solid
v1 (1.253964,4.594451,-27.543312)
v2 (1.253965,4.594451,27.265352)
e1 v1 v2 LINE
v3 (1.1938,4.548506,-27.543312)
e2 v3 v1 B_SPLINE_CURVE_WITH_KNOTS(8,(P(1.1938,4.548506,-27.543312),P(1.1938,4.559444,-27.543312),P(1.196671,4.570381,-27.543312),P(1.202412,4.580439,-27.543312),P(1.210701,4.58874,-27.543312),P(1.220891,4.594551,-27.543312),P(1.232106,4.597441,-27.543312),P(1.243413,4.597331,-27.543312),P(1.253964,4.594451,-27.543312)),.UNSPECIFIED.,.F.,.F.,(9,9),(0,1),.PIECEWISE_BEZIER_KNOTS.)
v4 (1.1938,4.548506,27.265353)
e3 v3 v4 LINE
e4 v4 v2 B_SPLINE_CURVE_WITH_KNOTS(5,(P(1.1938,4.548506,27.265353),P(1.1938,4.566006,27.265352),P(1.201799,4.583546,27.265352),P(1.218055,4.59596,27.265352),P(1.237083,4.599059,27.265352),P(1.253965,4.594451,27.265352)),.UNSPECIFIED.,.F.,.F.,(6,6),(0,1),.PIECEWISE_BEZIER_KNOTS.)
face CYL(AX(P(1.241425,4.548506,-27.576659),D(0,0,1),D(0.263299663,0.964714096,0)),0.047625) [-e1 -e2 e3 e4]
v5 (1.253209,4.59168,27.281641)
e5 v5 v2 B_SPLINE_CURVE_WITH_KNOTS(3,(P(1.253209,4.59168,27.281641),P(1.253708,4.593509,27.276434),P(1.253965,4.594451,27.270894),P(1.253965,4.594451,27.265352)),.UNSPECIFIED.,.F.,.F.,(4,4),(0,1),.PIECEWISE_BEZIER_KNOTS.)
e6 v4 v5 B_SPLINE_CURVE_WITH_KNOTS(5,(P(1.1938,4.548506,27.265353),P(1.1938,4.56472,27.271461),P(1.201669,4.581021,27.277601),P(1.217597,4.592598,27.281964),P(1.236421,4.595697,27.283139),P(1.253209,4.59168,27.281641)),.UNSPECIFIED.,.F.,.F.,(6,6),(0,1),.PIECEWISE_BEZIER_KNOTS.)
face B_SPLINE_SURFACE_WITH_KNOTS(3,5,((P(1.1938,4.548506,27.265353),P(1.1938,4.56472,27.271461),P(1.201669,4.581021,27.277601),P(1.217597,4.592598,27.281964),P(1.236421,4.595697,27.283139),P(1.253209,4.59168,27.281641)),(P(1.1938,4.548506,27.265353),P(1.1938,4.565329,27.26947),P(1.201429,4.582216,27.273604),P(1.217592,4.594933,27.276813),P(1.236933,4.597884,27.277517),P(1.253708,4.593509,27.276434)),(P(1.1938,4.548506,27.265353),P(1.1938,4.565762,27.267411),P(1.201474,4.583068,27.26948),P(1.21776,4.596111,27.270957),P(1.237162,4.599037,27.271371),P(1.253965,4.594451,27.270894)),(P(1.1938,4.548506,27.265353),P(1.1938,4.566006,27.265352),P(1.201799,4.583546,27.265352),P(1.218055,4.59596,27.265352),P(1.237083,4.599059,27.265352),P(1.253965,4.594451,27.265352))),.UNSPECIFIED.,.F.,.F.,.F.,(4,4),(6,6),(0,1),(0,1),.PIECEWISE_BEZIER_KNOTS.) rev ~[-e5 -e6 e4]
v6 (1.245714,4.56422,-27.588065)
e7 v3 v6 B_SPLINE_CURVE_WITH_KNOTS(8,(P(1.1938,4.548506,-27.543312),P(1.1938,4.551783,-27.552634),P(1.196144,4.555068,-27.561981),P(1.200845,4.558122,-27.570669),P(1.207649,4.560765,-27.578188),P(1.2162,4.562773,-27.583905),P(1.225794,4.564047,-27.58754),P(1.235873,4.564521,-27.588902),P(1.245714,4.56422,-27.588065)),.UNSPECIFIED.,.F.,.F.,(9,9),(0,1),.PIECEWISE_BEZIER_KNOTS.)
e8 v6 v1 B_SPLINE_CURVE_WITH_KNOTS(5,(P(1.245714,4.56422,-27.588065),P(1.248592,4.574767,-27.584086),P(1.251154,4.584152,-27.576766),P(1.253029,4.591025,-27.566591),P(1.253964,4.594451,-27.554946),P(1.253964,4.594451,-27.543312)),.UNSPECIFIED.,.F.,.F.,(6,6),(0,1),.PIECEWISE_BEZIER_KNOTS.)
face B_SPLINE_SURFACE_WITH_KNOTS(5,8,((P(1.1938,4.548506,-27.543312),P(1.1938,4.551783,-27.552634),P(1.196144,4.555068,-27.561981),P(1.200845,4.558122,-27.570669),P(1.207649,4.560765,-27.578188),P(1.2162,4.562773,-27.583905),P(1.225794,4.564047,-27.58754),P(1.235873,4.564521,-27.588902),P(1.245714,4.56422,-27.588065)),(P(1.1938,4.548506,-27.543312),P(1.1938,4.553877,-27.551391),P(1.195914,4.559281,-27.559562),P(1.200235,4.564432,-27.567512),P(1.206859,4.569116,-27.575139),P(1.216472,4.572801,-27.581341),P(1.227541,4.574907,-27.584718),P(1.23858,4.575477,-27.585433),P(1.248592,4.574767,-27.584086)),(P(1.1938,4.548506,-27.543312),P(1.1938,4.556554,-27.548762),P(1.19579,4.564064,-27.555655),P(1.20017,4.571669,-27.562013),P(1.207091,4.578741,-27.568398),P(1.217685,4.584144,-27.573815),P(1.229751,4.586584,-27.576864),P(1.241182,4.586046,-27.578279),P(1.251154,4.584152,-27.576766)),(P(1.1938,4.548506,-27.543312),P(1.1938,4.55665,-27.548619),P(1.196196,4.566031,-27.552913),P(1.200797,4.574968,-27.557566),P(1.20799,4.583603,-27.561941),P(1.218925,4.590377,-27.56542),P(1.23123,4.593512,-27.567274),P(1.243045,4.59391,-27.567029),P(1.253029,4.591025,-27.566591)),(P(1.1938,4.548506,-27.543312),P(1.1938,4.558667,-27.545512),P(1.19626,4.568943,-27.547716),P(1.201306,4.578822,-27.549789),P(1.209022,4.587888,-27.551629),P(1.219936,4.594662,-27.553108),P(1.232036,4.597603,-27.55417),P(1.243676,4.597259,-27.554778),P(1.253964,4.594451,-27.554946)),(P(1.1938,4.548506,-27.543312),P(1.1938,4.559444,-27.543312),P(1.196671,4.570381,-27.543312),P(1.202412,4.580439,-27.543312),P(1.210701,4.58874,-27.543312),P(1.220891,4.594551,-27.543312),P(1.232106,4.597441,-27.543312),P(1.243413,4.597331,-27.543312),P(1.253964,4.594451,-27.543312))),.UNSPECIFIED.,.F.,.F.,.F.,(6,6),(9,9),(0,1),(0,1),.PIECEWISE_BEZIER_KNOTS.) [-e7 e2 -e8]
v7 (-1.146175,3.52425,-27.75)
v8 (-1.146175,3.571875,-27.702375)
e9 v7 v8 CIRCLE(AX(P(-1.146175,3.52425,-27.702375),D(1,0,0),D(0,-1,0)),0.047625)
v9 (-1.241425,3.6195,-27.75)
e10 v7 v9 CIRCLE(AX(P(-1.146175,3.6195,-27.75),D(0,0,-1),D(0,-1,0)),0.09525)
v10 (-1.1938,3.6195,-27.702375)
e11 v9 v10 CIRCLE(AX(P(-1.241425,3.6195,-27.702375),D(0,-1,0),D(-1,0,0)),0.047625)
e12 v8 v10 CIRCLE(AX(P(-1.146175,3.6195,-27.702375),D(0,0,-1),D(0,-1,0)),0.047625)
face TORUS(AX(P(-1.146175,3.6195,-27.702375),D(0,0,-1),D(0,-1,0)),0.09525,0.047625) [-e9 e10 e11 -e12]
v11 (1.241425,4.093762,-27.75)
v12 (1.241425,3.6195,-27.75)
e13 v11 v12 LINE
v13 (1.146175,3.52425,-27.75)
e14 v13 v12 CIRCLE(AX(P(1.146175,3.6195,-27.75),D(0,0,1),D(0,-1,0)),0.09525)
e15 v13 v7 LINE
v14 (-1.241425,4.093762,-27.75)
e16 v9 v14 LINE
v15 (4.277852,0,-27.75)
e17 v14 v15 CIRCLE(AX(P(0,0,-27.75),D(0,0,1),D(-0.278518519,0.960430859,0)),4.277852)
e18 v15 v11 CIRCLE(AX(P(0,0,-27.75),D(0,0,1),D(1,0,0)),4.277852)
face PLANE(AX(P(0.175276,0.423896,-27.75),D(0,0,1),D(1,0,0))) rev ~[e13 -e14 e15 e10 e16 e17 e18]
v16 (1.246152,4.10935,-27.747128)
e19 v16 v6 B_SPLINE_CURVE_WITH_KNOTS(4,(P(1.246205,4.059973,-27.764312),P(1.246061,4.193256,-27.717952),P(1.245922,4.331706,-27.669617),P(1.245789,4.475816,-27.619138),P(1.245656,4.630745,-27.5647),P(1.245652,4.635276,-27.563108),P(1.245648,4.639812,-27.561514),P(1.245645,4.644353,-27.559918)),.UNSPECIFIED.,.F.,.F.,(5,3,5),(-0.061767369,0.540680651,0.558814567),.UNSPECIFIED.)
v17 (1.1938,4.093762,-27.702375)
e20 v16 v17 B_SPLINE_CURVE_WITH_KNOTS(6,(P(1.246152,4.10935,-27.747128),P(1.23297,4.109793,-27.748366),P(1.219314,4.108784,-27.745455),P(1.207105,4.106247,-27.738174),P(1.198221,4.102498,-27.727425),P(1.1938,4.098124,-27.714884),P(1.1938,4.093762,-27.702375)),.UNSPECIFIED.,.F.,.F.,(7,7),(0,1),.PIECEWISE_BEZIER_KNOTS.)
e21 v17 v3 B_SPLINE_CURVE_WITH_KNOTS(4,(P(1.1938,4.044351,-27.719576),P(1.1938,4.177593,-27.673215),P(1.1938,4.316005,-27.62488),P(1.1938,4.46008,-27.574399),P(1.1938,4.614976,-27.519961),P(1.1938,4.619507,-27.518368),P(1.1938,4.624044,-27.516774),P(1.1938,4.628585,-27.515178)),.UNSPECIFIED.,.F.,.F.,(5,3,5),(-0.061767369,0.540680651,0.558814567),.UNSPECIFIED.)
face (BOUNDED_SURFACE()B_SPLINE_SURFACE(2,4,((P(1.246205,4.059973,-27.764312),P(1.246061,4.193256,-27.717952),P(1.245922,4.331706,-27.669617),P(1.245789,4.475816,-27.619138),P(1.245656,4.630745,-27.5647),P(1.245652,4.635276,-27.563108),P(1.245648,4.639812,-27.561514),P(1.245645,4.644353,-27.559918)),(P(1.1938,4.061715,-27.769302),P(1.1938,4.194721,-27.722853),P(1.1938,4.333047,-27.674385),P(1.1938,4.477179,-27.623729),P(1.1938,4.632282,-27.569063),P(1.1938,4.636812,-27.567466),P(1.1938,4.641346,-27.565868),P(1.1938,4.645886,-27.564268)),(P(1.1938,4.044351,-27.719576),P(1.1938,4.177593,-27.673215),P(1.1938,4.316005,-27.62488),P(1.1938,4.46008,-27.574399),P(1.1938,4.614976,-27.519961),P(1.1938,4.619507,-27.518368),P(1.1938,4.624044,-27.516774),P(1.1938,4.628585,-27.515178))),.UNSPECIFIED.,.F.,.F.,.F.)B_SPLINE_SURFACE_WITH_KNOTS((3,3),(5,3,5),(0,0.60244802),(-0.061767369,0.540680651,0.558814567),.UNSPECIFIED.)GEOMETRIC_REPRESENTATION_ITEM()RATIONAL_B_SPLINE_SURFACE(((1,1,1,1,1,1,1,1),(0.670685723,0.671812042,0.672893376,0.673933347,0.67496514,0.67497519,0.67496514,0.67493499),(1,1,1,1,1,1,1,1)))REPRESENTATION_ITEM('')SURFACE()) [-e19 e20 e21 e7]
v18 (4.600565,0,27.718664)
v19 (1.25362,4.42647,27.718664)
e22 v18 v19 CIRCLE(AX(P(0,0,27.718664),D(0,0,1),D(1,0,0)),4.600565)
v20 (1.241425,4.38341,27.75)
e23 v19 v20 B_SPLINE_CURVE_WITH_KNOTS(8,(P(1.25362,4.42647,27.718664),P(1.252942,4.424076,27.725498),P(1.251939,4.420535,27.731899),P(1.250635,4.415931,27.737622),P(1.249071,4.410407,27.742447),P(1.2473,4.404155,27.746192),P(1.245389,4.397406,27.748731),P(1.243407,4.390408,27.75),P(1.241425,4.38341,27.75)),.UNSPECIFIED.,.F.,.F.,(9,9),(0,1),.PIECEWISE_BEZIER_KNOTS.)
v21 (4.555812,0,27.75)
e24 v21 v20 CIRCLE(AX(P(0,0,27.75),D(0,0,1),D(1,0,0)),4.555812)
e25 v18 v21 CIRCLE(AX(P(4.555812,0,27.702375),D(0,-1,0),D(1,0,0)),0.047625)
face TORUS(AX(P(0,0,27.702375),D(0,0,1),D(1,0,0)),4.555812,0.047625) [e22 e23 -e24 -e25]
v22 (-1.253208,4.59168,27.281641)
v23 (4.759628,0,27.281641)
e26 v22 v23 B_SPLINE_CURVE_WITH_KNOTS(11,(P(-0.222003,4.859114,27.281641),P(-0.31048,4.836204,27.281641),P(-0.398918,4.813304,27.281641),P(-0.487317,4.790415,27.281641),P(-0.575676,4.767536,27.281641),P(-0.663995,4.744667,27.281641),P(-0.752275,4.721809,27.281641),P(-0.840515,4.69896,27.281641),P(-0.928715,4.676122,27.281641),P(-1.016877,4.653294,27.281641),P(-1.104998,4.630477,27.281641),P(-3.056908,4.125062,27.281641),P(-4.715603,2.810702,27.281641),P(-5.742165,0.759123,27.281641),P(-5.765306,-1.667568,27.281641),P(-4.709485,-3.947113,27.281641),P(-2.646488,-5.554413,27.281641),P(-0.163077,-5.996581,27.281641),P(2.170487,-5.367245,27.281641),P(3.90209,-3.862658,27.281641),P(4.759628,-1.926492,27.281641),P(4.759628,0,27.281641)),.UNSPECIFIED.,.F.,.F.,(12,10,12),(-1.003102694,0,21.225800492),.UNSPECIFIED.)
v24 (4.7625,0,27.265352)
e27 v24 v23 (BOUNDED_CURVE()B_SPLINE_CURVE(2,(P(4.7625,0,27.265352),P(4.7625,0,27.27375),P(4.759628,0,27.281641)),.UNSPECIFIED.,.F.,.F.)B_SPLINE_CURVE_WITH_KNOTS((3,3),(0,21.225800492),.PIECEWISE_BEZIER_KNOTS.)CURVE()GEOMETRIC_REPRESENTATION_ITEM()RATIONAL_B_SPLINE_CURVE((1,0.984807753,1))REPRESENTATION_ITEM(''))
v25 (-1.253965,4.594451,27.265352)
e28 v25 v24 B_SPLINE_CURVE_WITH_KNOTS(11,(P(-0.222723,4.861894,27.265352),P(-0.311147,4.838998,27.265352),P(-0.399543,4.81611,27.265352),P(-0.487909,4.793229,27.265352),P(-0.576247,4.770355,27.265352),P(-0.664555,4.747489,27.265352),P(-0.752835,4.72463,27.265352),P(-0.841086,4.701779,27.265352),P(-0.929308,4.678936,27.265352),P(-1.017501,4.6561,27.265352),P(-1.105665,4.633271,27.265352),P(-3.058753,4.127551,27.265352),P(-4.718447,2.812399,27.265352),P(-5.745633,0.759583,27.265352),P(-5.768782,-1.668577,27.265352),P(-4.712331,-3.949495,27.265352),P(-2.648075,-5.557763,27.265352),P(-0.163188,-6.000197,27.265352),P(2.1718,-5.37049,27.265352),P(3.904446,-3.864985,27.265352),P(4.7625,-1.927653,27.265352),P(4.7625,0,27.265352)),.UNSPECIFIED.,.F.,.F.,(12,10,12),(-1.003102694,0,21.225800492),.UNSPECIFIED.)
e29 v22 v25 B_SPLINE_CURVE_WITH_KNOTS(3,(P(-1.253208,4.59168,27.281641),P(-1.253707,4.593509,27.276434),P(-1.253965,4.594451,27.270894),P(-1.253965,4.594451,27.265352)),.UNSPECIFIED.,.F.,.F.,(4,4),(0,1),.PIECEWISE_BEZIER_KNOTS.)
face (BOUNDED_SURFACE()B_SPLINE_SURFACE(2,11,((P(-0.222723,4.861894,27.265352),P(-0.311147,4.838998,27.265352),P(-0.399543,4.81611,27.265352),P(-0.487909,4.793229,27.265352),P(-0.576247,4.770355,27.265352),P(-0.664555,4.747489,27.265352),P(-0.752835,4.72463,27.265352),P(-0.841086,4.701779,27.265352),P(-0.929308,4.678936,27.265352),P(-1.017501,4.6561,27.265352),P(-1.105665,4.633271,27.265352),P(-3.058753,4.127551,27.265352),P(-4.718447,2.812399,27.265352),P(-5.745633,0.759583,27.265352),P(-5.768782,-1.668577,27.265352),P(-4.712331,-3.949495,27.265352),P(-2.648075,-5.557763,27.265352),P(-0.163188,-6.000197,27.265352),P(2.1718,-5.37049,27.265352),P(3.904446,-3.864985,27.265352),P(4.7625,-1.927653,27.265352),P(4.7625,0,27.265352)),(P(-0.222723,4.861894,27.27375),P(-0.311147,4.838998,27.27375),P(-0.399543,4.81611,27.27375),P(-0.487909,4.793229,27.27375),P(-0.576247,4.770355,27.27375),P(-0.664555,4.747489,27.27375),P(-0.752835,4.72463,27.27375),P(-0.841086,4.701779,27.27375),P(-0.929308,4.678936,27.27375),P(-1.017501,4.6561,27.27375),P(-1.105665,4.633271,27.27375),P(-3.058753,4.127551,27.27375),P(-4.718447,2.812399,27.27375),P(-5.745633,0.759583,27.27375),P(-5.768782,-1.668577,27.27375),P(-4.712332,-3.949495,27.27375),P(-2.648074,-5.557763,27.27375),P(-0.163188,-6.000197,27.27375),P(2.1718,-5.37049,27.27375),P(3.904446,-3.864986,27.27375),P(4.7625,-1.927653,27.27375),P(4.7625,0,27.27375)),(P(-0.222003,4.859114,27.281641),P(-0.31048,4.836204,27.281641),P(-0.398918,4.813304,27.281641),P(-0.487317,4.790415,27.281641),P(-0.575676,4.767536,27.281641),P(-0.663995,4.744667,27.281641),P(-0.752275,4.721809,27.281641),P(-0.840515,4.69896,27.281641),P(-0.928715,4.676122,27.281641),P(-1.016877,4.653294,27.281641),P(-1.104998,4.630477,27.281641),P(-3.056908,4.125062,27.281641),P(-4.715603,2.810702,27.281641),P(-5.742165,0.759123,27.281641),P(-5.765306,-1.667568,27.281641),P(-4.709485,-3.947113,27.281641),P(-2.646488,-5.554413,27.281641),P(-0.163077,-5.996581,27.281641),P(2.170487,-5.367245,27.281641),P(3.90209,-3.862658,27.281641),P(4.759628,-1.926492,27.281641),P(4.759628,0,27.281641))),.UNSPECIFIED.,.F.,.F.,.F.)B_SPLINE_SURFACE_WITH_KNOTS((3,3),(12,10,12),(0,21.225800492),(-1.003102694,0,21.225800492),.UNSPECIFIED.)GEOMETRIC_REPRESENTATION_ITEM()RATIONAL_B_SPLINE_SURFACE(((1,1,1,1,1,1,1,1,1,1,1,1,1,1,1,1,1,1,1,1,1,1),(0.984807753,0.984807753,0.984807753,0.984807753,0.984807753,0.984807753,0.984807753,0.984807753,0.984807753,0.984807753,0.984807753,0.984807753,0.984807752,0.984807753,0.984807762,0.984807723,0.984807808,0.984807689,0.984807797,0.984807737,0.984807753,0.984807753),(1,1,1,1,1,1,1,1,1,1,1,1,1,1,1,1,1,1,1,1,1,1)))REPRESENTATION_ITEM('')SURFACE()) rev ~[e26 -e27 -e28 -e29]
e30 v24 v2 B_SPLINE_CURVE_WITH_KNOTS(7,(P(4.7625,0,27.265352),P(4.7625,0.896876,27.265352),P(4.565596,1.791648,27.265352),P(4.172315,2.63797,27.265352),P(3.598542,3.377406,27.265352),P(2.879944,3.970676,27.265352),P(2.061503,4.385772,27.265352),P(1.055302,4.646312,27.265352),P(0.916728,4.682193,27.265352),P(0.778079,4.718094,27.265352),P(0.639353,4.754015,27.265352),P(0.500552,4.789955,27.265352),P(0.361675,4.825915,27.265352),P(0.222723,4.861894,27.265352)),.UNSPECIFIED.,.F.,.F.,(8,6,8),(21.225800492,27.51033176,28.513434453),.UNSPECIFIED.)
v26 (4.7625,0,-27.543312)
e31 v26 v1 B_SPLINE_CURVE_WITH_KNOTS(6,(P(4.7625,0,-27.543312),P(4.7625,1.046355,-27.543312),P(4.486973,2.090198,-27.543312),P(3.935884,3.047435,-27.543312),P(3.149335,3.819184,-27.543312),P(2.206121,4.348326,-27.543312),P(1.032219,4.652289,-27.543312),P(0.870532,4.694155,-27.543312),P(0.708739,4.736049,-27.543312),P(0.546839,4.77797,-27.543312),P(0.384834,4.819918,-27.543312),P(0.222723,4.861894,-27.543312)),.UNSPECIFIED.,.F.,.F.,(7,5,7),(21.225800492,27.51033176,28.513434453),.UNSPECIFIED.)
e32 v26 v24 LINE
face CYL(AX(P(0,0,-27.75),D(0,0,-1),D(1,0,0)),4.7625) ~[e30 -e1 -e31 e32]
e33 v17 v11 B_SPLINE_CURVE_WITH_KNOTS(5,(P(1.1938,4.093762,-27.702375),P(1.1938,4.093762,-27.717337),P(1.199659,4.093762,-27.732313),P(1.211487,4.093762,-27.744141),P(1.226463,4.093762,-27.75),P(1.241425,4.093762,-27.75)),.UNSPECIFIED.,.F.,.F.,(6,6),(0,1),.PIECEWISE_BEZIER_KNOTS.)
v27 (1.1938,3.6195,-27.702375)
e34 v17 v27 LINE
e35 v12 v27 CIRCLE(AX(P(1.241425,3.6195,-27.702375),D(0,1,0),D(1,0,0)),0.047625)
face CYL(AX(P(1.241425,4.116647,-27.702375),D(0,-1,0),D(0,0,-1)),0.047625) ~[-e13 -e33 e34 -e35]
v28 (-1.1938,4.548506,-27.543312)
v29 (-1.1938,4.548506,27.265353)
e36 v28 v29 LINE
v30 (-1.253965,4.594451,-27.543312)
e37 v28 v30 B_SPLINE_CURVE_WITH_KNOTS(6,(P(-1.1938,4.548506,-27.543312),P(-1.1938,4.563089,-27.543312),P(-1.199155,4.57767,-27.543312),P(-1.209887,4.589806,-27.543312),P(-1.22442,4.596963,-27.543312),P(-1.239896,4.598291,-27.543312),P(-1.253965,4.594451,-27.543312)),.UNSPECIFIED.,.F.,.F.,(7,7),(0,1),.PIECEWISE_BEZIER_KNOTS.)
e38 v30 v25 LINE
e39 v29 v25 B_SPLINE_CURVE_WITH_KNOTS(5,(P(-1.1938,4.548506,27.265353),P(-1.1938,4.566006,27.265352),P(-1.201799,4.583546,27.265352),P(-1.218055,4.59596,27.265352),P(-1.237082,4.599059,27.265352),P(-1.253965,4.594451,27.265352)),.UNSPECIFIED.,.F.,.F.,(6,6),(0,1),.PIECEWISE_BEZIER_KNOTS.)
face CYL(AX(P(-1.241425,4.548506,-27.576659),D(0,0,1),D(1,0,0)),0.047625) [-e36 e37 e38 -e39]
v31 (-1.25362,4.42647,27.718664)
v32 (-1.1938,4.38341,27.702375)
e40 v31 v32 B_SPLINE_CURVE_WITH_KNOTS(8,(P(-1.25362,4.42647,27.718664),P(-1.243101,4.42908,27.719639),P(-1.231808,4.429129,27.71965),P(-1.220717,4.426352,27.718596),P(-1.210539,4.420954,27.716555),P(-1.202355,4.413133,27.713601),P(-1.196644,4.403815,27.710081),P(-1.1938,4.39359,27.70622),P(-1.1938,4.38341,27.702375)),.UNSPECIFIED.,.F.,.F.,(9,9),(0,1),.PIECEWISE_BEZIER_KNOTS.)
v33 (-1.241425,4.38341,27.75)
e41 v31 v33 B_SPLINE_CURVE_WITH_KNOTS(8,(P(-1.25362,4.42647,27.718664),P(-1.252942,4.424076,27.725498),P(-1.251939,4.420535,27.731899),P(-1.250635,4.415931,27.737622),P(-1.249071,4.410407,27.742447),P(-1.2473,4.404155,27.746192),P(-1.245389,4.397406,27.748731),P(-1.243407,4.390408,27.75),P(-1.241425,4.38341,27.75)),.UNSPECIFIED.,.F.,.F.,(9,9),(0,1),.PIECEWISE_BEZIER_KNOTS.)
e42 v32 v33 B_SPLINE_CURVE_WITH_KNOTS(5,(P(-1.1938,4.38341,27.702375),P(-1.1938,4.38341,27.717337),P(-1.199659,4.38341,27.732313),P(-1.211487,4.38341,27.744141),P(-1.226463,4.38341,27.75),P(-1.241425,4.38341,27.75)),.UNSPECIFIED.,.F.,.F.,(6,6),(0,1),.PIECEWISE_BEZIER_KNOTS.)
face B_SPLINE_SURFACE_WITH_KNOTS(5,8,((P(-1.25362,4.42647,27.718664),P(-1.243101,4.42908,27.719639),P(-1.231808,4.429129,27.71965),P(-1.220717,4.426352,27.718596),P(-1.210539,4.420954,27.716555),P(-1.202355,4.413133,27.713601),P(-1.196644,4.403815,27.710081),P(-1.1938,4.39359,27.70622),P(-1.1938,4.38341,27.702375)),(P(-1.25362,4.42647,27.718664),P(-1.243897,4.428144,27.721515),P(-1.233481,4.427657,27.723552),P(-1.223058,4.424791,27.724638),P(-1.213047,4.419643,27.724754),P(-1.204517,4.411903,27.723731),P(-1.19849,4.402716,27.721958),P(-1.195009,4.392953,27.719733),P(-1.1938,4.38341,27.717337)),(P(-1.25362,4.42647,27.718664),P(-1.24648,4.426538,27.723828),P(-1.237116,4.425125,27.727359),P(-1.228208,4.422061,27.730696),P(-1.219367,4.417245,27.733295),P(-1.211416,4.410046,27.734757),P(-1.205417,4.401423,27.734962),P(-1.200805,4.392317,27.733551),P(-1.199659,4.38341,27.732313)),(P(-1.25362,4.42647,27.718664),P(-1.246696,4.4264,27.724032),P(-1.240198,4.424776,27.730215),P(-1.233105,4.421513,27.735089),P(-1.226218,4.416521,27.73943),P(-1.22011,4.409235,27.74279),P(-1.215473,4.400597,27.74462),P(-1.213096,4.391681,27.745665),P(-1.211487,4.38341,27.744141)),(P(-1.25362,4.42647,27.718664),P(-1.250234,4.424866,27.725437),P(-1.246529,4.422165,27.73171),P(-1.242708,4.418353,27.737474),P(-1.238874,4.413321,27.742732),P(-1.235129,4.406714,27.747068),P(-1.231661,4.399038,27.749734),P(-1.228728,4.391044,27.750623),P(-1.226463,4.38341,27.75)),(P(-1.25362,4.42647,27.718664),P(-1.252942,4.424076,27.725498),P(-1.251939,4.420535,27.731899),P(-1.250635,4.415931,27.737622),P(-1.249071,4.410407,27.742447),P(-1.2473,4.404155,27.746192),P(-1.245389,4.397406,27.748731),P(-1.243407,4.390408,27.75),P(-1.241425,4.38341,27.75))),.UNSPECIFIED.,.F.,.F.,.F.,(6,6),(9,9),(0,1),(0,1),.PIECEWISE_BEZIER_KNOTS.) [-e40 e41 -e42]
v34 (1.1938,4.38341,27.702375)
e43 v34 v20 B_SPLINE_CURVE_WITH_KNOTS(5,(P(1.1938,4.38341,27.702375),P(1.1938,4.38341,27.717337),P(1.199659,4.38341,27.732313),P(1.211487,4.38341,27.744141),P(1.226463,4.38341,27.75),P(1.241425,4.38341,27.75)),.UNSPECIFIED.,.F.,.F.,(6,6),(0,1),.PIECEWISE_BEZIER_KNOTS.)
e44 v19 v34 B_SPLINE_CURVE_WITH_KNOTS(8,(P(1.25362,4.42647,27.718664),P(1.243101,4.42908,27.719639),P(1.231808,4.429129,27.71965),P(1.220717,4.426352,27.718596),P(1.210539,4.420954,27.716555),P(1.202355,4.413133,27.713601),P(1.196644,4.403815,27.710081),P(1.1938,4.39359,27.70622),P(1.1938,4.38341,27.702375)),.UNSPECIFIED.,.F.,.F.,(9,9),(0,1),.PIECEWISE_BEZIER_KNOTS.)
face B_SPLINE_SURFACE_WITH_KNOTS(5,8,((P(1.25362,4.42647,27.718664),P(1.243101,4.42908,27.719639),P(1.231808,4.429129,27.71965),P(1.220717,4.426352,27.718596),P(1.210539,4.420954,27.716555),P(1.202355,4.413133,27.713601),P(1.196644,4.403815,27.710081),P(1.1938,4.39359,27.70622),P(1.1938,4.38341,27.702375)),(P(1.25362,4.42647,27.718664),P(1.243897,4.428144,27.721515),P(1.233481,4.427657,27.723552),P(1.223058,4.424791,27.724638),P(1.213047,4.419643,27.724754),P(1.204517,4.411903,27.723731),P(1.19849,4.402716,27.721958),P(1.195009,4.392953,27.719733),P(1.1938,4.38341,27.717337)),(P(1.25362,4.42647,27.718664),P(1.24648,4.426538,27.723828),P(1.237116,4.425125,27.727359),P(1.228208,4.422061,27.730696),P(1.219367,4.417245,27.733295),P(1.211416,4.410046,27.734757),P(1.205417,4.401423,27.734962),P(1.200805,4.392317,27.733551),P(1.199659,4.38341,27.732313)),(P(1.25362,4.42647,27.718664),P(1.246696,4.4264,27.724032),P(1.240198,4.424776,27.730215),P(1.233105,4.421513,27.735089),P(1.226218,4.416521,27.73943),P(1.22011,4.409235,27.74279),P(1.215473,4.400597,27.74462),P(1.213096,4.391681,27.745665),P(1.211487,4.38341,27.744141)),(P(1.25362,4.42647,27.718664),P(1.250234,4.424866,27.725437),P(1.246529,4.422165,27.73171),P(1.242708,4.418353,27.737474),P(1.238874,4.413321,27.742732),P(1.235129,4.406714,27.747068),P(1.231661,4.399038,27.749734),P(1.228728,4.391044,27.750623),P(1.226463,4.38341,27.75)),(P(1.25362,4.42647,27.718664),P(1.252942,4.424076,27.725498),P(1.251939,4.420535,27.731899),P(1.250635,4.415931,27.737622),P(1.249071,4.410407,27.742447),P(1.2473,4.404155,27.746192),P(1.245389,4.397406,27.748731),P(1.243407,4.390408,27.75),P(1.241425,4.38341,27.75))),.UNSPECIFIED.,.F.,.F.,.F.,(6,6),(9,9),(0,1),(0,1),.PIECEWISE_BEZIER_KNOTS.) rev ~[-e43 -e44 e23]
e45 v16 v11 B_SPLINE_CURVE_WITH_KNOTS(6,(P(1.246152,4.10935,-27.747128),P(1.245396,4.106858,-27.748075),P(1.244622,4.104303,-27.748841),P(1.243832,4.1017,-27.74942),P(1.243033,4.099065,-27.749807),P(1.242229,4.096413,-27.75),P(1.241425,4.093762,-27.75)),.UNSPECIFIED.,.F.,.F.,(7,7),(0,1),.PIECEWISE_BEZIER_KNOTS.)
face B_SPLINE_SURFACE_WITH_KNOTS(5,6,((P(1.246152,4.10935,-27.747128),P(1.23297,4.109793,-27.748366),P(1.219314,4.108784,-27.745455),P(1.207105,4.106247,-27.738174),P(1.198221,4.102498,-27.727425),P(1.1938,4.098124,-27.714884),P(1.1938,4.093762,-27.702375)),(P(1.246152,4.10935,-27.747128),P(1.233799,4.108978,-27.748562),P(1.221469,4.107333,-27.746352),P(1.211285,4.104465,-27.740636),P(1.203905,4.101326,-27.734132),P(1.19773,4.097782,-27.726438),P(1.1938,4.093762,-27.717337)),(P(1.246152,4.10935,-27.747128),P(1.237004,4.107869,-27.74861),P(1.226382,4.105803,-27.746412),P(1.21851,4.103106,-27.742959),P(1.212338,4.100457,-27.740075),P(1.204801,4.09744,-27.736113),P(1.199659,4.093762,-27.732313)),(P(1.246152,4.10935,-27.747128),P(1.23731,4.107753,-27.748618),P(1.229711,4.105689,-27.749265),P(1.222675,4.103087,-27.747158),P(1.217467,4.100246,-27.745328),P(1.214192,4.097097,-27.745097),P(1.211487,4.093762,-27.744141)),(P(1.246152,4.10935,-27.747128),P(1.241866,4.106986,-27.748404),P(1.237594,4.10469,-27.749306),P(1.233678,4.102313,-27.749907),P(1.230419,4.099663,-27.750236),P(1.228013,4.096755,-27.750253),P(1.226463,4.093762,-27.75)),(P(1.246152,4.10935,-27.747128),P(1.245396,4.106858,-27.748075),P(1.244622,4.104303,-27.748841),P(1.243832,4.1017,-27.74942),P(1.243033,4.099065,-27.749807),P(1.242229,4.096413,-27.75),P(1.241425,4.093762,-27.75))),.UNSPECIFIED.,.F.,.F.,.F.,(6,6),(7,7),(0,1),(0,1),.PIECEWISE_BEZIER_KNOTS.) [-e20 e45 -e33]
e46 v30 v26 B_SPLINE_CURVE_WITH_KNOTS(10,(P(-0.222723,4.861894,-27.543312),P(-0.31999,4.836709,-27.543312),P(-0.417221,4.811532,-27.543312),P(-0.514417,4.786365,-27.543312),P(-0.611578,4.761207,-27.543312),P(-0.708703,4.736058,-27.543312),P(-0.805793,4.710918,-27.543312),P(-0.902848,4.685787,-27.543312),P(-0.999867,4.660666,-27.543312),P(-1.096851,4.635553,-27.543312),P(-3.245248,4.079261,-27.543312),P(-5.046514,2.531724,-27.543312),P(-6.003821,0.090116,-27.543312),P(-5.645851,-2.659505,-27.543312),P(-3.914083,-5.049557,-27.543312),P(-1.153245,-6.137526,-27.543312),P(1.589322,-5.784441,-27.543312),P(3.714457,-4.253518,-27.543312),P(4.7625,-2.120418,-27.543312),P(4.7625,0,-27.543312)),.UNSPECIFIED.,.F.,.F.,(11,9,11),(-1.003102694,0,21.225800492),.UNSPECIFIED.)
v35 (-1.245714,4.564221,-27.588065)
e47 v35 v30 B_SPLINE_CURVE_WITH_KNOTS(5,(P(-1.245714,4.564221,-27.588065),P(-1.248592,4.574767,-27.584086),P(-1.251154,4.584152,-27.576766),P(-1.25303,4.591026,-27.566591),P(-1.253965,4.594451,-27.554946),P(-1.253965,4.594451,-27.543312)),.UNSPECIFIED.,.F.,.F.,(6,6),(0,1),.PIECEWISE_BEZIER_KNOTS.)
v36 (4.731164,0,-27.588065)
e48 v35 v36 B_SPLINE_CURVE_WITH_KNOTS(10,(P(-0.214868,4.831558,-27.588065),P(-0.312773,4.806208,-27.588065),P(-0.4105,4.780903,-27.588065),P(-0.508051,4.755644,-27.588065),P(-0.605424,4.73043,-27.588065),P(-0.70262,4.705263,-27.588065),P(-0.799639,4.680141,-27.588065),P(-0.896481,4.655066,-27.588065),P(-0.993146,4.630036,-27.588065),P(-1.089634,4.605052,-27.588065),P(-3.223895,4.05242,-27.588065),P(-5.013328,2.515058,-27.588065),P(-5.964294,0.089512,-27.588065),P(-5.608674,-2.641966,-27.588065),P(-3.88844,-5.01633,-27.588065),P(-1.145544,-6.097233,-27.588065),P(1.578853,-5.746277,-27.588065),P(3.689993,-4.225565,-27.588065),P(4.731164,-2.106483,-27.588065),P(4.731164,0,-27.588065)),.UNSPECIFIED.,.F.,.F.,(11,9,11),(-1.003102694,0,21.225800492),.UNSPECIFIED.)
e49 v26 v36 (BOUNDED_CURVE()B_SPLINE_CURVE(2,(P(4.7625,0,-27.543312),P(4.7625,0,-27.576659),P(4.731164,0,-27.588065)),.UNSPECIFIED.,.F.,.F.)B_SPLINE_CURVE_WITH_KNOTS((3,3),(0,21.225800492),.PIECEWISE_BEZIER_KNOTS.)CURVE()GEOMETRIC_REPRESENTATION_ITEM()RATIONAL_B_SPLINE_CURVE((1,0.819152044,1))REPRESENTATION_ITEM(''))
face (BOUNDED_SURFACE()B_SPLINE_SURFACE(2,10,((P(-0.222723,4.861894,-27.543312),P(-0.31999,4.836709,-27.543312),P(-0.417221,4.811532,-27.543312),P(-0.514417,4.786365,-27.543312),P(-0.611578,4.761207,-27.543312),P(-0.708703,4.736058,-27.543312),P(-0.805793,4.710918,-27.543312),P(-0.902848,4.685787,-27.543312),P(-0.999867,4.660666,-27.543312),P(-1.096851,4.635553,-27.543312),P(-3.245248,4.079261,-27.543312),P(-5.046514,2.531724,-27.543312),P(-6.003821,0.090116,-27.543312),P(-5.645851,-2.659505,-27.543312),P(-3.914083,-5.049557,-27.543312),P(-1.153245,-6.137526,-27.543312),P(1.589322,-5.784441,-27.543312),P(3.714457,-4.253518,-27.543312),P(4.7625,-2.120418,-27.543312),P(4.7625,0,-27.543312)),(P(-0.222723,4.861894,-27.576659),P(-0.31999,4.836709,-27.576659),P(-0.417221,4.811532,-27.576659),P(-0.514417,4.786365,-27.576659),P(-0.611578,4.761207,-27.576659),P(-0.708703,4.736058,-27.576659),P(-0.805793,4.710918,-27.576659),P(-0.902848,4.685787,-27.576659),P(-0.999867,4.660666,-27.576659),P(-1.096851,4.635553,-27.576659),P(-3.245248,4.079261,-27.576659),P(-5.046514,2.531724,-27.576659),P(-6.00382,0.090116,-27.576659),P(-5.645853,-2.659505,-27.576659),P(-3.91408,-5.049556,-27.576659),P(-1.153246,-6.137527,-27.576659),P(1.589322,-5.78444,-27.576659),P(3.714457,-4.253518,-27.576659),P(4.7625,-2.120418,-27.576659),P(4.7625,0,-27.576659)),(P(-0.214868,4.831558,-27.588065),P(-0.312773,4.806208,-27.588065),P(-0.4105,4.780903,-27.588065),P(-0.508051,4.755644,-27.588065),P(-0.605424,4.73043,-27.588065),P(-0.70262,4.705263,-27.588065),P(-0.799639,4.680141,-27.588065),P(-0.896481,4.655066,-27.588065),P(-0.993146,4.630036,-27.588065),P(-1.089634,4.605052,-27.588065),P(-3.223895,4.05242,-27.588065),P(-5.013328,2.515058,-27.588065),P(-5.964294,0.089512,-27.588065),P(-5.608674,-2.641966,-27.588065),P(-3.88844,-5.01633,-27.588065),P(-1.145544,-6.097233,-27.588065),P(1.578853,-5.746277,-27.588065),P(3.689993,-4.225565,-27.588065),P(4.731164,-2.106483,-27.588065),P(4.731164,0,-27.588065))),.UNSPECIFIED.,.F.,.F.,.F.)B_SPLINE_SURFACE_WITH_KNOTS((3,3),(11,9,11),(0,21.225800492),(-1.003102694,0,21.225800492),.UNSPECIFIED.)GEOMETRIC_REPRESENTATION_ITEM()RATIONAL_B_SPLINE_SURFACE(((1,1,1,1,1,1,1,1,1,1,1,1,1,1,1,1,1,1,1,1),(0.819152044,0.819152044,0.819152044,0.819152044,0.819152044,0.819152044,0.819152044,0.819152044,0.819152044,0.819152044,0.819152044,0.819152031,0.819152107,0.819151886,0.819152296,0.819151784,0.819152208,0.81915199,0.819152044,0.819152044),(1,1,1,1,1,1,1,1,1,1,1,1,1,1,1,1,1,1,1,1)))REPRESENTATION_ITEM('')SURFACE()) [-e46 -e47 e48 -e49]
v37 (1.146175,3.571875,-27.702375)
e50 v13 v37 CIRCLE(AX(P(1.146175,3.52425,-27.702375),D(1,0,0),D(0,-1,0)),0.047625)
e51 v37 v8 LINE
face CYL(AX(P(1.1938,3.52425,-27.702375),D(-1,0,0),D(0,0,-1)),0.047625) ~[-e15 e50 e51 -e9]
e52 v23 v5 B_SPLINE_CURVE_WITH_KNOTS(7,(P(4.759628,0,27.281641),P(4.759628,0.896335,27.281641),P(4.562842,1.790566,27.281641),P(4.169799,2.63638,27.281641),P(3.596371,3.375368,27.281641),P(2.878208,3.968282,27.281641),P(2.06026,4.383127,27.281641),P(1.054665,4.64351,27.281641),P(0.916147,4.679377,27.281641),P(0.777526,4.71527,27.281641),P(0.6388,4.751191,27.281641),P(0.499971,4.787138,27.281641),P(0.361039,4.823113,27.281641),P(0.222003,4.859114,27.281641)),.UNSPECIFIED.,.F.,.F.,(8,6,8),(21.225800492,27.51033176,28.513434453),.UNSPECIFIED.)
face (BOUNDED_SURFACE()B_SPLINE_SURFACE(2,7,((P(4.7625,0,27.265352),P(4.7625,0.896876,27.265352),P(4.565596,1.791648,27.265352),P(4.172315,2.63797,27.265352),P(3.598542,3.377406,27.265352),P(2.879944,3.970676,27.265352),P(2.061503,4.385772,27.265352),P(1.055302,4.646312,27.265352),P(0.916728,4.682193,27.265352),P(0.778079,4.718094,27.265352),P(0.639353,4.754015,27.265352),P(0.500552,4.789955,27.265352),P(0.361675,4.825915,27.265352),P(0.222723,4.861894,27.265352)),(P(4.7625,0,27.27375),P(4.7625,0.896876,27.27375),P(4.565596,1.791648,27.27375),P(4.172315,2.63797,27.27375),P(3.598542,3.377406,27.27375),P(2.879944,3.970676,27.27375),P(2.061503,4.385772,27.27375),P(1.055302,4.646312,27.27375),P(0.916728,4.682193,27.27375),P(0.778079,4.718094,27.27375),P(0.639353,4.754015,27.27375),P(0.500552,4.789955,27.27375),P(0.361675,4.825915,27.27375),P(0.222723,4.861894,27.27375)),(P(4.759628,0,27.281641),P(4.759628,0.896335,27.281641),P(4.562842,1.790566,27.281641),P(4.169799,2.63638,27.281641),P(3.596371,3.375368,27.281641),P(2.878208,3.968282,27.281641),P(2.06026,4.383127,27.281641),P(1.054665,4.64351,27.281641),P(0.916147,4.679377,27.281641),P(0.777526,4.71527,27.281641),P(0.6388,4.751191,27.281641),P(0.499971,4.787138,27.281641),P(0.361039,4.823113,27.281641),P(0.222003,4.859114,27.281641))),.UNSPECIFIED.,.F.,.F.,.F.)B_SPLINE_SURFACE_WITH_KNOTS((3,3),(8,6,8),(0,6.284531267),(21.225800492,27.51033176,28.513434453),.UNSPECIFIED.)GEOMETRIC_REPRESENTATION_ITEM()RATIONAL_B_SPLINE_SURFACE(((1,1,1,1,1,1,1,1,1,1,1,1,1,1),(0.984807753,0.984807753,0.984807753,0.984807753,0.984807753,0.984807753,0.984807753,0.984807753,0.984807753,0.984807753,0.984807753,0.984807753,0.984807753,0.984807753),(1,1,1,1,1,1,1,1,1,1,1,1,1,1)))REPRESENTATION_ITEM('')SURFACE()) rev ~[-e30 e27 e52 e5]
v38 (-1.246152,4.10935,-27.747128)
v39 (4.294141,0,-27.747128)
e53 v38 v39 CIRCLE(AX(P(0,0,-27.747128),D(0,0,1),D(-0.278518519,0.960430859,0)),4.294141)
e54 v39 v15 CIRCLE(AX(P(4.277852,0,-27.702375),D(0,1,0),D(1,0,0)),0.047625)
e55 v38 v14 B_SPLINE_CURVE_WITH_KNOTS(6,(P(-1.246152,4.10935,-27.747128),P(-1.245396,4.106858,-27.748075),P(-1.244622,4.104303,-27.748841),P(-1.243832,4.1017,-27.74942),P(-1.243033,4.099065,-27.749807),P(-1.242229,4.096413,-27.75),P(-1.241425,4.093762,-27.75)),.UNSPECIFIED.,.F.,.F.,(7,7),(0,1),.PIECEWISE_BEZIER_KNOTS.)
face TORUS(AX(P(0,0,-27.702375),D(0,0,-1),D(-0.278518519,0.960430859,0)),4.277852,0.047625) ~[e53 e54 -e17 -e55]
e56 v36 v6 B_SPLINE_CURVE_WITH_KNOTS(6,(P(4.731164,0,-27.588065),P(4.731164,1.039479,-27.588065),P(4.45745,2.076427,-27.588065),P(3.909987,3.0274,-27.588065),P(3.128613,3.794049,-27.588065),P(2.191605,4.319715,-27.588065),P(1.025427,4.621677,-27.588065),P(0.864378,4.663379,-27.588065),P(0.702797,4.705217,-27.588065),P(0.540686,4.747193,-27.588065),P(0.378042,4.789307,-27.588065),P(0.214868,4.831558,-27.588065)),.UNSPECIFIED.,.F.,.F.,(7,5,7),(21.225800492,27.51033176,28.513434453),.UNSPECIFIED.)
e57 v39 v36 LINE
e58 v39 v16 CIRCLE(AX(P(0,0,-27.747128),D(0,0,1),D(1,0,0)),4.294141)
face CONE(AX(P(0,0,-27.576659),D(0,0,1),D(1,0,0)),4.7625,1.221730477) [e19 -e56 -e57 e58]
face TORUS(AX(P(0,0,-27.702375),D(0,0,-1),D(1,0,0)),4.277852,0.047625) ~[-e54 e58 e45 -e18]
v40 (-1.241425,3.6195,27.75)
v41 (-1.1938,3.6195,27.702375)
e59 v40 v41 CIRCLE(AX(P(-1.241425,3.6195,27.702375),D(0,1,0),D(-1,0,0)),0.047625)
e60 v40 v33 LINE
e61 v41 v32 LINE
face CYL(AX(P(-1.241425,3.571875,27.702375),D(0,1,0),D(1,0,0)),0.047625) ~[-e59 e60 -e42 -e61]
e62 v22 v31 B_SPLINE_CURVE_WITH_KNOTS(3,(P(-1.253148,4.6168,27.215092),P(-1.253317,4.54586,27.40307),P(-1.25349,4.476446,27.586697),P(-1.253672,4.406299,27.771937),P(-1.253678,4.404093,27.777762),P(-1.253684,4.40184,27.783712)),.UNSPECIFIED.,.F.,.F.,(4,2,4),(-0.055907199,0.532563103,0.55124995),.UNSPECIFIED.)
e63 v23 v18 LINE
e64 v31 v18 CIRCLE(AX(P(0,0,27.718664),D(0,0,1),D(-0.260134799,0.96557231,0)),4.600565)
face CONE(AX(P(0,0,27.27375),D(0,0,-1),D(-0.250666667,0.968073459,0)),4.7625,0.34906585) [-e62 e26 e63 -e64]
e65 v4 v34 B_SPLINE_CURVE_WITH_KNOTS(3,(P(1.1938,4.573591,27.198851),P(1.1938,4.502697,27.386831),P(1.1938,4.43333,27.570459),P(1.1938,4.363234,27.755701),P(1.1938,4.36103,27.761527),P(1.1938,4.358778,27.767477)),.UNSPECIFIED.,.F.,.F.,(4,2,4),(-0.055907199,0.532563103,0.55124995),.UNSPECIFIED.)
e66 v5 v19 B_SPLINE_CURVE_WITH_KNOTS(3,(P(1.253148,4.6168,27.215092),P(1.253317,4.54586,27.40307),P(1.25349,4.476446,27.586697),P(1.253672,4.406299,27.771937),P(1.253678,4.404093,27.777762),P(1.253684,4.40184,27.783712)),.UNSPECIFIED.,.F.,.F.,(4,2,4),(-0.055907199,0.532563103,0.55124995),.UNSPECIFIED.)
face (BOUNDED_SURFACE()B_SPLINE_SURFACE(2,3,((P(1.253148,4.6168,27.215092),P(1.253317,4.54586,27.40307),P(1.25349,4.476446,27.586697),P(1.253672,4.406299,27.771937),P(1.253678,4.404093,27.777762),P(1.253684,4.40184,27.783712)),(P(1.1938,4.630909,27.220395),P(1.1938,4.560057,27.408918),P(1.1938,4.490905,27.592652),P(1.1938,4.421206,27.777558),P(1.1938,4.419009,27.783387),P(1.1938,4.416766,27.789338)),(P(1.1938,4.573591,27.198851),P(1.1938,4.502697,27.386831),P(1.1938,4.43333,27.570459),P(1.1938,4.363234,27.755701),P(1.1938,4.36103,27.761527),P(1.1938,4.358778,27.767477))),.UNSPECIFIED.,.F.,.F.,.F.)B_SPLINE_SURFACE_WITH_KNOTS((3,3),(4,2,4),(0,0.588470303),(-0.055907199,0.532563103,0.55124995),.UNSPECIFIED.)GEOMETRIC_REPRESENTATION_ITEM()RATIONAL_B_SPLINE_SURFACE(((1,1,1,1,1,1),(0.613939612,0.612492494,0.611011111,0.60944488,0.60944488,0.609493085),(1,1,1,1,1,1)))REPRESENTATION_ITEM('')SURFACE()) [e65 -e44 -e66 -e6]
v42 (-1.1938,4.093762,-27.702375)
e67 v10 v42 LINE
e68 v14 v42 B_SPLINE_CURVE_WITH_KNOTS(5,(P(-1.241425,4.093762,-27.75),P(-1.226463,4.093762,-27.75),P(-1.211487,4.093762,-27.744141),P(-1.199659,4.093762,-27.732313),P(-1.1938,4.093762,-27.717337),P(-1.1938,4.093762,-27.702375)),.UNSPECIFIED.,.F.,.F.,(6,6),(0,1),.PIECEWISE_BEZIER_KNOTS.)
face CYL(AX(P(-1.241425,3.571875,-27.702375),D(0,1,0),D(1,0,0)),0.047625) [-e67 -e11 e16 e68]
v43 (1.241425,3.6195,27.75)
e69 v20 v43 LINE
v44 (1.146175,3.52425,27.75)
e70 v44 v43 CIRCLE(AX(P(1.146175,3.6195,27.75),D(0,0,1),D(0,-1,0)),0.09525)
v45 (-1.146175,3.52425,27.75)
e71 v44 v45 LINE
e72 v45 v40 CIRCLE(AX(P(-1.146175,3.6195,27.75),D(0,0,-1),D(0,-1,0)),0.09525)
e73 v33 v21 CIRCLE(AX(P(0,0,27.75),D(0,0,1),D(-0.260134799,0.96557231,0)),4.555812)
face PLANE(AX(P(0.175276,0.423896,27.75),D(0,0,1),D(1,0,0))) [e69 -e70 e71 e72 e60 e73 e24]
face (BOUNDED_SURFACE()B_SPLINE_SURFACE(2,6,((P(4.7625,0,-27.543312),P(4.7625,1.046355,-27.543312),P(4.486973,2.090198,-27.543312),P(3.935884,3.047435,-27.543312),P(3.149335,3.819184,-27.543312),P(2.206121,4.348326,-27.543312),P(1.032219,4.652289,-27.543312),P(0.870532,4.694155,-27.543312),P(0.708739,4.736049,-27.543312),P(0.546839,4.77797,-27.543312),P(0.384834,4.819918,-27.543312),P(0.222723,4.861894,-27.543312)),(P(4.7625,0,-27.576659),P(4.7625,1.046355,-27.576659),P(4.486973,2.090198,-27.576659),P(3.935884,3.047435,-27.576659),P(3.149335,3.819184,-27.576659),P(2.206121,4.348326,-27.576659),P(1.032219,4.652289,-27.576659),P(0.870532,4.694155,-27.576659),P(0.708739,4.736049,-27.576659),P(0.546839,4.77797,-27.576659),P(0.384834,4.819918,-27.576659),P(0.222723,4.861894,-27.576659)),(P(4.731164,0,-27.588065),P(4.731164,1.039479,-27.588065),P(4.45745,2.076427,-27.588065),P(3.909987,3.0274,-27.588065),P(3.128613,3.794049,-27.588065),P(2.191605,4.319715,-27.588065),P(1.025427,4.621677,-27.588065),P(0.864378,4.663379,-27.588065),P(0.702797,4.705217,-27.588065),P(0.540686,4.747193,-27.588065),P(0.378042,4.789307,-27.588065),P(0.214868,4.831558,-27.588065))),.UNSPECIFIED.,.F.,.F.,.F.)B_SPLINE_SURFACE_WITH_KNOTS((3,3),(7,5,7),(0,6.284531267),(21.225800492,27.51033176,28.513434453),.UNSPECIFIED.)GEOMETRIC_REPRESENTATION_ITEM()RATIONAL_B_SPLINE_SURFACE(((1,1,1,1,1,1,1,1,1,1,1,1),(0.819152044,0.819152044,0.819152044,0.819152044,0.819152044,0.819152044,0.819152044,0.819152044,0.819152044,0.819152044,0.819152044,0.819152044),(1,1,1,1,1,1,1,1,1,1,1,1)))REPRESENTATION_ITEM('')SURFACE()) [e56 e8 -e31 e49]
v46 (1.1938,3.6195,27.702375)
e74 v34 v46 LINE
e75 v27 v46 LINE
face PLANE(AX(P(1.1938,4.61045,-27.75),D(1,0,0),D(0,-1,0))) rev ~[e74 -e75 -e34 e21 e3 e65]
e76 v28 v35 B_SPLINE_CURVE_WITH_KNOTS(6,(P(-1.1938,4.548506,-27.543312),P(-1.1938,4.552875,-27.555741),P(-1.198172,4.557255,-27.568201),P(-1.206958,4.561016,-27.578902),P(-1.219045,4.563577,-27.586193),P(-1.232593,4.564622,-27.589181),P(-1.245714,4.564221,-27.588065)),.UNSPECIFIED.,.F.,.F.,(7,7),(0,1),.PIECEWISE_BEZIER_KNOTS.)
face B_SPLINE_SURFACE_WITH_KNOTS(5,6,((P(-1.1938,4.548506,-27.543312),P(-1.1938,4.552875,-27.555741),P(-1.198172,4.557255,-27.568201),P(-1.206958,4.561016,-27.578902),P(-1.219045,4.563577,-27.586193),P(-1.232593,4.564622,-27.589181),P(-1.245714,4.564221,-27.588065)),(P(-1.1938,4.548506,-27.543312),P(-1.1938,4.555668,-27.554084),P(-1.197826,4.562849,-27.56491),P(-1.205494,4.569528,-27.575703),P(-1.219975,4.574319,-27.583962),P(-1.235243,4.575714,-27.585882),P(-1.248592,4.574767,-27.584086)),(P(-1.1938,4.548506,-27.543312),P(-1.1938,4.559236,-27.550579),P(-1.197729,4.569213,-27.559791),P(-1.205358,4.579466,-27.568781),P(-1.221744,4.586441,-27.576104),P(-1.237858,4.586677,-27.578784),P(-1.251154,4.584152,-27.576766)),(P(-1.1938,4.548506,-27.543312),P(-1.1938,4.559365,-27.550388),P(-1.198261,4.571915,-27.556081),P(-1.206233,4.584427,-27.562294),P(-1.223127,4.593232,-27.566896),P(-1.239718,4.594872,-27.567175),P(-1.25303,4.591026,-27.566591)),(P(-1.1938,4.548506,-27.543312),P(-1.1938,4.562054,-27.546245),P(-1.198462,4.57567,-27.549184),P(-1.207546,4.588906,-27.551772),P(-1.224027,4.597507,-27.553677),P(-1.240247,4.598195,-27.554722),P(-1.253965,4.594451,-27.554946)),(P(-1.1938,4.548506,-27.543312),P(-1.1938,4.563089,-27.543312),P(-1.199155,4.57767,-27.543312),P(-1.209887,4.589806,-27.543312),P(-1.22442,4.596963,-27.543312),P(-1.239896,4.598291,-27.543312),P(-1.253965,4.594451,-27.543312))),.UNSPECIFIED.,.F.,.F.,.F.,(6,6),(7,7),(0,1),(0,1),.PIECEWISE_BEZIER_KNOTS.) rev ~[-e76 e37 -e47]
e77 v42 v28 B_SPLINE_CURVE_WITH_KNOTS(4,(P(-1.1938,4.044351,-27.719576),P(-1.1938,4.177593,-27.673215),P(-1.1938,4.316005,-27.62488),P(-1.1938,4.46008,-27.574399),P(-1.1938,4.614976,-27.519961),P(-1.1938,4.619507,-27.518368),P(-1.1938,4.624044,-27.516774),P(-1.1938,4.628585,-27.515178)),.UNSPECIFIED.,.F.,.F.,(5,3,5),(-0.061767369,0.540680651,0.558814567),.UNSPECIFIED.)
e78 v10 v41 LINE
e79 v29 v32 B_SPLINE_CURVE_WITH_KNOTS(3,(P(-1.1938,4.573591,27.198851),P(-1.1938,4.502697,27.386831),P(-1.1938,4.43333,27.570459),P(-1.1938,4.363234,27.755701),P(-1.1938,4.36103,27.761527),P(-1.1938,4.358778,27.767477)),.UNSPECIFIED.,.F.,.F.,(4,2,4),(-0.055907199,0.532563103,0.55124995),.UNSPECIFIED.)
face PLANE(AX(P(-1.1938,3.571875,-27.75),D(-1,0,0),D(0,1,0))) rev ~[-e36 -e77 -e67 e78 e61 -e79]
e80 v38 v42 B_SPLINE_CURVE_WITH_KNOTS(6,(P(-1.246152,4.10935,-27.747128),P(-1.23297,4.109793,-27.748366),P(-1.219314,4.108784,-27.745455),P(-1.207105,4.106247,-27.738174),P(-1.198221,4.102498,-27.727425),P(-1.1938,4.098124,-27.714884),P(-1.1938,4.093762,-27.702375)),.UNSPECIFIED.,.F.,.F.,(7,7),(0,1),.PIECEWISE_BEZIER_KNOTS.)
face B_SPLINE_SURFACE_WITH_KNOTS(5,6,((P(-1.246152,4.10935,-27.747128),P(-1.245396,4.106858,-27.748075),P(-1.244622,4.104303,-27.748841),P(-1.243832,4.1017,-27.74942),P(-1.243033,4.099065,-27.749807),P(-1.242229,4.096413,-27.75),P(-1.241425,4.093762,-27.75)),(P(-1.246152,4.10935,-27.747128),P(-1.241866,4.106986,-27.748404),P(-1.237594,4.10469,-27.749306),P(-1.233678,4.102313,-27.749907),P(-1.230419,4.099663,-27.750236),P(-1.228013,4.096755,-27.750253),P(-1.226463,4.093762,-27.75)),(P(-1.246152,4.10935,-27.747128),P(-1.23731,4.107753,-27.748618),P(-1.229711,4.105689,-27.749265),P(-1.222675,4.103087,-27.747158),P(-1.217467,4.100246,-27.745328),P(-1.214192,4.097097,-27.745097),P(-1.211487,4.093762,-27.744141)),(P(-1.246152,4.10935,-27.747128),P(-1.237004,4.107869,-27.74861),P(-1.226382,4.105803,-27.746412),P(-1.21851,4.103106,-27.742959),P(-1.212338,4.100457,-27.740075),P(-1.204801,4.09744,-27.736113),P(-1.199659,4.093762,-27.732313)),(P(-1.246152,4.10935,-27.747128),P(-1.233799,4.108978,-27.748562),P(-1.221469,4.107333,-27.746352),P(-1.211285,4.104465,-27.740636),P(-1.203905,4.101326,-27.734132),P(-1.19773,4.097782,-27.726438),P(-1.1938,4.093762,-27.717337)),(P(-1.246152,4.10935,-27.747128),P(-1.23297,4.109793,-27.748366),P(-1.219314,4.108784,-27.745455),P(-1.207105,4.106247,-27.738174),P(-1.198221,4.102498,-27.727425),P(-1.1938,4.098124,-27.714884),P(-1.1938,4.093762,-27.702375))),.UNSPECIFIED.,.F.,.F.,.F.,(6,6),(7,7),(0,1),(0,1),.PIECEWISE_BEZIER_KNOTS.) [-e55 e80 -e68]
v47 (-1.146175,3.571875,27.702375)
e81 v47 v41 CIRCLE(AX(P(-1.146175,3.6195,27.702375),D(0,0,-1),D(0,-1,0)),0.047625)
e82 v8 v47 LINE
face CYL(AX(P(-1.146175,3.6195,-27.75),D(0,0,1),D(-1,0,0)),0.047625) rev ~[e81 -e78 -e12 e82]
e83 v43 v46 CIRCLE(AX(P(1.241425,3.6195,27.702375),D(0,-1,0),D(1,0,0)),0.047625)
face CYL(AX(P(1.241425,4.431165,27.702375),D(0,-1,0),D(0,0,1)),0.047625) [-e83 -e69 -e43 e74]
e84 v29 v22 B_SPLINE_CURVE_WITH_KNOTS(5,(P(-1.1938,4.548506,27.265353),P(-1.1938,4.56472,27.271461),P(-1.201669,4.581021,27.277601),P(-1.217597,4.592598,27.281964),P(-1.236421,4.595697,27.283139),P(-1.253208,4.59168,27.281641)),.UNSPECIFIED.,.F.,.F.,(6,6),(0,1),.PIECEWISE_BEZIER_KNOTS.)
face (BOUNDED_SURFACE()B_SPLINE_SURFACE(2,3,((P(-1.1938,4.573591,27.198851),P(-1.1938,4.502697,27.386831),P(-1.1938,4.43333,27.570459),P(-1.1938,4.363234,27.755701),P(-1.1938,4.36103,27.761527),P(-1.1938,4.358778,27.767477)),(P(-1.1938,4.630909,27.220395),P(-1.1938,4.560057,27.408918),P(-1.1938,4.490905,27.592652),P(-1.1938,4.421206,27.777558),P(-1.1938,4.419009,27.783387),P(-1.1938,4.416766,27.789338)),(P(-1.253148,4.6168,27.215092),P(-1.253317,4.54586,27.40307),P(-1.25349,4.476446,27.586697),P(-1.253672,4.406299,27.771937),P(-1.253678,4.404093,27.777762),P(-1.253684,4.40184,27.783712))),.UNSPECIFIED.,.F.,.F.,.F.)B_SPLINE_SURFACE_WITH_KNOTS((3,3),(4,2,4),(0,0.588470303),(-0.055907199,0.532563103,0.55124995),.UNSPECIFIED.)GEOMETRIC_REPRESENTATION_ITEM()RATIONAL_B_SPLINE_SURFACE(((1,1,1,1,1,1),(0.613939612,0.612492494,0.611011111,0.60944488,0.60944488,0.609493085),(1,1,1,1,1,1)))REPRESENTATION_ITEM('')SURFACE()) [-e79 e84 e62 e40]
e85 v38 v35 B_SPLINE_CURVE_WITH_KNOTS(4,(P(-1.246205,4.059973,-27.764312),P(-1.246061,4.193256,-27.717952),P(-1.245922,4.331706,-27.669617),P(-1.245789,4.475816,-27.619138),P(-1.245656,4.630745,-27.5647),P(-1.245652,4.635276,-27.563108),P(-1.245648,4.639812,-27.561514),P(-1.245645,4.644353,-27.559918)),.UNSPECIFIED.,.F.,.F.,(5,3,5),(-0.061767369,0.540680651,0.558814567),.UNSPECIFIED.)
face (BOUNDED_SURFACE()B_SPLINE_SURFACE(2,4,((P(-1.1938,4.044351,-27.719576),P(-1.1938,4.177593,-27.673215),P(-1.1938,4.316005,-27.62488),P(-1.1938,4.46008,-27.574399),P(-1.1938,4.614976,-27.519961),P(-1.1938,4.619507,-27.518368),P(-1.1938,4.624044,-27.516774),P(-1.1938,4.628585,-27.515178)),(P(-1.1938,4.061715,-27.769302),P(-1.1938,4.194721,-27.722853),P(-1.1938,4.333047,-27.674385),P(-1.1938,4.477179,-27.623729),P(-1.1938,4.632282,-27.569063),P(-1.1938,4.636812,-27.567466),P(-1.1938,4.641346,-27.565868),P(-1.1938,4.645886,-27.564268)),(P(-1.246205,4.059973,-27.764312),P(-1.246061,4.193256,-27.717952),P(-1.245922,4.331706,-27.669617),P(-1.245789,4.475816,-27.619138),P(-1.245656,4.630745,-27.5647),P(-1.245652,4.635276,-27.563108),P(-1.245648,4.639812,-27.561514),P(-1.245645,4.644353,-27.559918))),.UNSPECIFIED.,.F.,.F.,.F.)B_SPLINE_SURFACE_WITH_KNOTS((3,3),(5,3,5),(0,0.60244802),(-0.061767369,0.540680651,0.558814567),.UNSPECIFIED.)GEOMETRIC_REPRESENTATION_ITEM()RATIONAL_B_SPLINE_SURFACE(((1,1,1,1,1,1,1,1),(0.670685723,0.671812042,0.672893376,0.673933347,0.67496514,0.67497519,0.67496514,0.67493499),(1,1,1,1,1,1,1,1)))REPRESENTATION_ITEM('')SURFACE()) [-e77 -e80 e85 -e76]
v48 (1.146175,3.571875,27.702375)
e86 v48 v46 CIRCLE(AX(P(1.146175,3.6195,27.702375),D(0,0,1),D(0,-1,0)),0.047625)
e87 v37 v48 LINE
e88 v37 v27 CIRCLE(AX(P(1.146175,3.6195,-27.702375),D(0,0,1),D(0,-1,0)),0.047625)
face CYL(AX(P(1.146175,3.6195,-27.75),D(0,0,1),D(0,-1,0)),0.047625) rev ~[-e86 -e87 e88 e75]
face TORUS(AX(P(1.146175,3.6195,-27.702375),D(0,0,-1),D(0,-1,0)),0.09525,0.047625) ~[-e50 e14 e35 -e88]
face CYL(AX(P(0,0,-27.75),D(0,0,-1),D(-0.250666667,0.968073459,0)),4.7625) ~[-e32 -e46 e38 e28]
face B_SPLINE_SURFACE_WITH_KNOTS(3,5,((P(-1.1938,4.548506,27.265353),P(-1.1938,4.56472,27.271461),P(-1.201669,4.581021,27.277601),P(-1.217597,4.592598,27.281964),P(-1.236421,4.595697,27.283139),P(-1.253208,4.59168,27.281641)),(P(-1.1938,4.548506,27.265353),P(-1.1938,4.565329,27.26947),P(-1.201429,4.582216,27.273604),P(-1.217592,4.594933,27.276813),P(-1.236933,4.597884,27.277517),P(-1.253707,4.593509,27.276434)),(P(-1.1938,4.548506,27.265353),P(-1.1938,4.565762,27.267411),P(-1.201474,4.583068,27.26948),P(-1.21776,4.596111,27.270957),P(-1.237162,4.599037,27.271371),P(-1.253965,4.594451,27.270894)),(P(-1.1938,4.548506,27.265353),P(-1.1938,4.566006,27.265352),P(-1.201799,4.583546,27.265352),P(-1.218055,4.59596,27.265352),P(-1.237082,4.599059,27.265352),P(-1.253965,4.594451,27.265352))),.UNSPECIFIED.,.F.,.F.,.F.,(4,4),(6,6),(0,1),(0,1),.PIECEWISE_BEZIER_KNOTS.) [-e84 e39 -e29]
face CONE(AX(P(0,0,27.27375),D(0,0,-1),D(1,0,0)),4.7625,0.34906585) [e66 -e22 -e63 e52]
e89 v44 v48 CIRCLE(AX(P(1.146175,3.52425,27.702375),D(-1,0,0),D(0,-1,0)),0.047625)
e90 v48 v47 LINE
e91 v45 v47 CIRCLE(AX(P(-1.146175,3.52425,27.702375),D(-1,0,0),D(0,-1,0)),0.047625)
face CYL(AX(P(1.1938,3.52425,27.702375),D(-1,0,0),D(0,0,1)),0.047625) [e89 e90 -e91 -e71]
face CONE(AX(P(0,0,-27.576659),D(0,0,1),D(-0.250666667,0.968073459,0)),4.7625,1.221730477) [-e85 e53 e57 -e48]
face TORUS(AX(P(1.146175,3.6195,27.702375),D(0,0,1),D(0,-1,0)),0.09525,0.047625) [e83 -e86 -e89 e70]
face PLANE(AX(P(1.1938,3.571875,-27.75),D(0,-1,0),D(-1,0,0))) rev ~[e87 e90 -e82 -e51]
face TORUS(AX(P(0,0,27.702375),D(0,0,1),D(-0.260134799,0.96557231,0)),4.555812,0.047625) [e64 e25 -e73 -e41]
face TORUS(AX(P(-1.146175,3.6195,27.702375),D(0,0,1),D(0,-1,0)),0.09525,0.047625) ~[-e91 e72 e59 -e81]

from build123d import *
from OCP.BRepFilletAPI import BRepFilletAPI_MakeChamfer

# Parameters (mm, degrees)
BOSS_EXTRUDE1_DEPTH      = 27.75
BOSS_EXTRUDE1_DEPTH_BACK = 27.75
CHAMFER1_SIZE            = 0.47625
CHAMFER1_SIZE2           = 0.173340824
FILLET1_R                = 0.047625


with BuildPart() as part:
    # Sketch3 → Boss-Extrude1 (new, two sides: drawn at the far end of the back side and taken through both)
    with BuildSketch(Plane.XY.offset(-BOSS_EXTRUDE1_DEPTH_BACK)):
        with BuildLine():
            Line((-1.1938, 3.571875), (-1.1938, 4.610449849))
            ThreePointArc((-1.1938, 4.610449849), (-2.915127249, -3.766090728), (4.7625, 0))
            ThreePointArc((4.7625, 0), (3.766090728, 2.915127249), (1.1938, 4.610449849))
            Line((1.1938, 4.610449849), (1.1938, 3.571875))
            Line((1.1938, 3.571875), (-1.1938, 3.571875))
        make_face()
    extrude(amount=BOSS_EXTRUDE1_DEPTH + BOSS_EXTRUDE1_DEPTH_BACK)

    # Chamfer1: one chamfer whose edges measure the first distance from different faces: ONE call of the kernel's chamfer builder (chamfer() names one face for all edges)
    chamfer1_edges_1 = [part.edges().sort_by_distance(p)[0] for p in [
        (-2.915127249, -3.766090728, 27.75),
    ]]
    chamfer1_side_1 = [part.faces().sort_by_distance(p)[0] for p in [
        (-2.915127249, -3.766090728, 13.875),
    ]]
    chamfer1_edges_2 = [part.edges().sort_by_distance(p)[0] for p in [
        (-2.915127249, -3.766090728, -27.75),
    ]]
    chamfer1_side_2 = [part.faces().sort_by_distance(p)[0] for p in [
        (0, -0.164578508, -27.75),
    ]]
    chamfer1 = BRepFilletAPI_MakeChamfer(part.part.solid().wrapped)
    for e in chamfer1_edges_1:
        chamfer1.Add(CHAMFER1_SIZE, CHAMFER1_SIZE2, e.wrapped, chamfer1_side_1[0].wrapped)  # the first distance lies on this face
    for e in chamfer1_edges_2:
        chamfer1.Add(CHAMFER1_SIZE, CHAMFER1_SIZE2, e.wrapped, chamfer1_side_2[0].wrapped)  # the first distance lies on this face
    add(Compound.cast(chamfer1.Shape()), mode=Mode.REPLACE)

    # Fillet1
    fillet1_edges = [part.edges().sort_by_distance(p)[0] for p in [
        (0, 3.571875, 27.75),
        (0, 3.571875, -27.75),
        (1.1938, 4.610449849, -13.788329588),
        (-1.1938, 4.610449849, -13.788329588),
        (-2.915127249, -3.766090728, 27.27375),
        (-2.915127249, -3.766090728, -27.576659176),
        (1.1938, 4.001520014, 27.75),
        (1.1938, 3.844260885, -27.75),
        (1.1938, 4.520858199, 27.511894109),
        (1.1938, 4.36360182, -27.663482035),
        (-1.1938, 3.844260885, -27.75),
        (-2.574394474, -3.42701505, -27.75),
        (-1.1938, 4.001520014, 27.75),
        (-1.1938, 4.520858199, 27.511894109),
        (-1.1938, 4.36360182, -27.663482035),
        (-2.791222288, -3.642727012, 27.75),
        (-1.1938, 3.571875, 13.875),
        (1.1938, 3.571875, 13.875),
    ]]
    fillet(fillet1_edges, radius=FILLET1_R)


solid = part.part
